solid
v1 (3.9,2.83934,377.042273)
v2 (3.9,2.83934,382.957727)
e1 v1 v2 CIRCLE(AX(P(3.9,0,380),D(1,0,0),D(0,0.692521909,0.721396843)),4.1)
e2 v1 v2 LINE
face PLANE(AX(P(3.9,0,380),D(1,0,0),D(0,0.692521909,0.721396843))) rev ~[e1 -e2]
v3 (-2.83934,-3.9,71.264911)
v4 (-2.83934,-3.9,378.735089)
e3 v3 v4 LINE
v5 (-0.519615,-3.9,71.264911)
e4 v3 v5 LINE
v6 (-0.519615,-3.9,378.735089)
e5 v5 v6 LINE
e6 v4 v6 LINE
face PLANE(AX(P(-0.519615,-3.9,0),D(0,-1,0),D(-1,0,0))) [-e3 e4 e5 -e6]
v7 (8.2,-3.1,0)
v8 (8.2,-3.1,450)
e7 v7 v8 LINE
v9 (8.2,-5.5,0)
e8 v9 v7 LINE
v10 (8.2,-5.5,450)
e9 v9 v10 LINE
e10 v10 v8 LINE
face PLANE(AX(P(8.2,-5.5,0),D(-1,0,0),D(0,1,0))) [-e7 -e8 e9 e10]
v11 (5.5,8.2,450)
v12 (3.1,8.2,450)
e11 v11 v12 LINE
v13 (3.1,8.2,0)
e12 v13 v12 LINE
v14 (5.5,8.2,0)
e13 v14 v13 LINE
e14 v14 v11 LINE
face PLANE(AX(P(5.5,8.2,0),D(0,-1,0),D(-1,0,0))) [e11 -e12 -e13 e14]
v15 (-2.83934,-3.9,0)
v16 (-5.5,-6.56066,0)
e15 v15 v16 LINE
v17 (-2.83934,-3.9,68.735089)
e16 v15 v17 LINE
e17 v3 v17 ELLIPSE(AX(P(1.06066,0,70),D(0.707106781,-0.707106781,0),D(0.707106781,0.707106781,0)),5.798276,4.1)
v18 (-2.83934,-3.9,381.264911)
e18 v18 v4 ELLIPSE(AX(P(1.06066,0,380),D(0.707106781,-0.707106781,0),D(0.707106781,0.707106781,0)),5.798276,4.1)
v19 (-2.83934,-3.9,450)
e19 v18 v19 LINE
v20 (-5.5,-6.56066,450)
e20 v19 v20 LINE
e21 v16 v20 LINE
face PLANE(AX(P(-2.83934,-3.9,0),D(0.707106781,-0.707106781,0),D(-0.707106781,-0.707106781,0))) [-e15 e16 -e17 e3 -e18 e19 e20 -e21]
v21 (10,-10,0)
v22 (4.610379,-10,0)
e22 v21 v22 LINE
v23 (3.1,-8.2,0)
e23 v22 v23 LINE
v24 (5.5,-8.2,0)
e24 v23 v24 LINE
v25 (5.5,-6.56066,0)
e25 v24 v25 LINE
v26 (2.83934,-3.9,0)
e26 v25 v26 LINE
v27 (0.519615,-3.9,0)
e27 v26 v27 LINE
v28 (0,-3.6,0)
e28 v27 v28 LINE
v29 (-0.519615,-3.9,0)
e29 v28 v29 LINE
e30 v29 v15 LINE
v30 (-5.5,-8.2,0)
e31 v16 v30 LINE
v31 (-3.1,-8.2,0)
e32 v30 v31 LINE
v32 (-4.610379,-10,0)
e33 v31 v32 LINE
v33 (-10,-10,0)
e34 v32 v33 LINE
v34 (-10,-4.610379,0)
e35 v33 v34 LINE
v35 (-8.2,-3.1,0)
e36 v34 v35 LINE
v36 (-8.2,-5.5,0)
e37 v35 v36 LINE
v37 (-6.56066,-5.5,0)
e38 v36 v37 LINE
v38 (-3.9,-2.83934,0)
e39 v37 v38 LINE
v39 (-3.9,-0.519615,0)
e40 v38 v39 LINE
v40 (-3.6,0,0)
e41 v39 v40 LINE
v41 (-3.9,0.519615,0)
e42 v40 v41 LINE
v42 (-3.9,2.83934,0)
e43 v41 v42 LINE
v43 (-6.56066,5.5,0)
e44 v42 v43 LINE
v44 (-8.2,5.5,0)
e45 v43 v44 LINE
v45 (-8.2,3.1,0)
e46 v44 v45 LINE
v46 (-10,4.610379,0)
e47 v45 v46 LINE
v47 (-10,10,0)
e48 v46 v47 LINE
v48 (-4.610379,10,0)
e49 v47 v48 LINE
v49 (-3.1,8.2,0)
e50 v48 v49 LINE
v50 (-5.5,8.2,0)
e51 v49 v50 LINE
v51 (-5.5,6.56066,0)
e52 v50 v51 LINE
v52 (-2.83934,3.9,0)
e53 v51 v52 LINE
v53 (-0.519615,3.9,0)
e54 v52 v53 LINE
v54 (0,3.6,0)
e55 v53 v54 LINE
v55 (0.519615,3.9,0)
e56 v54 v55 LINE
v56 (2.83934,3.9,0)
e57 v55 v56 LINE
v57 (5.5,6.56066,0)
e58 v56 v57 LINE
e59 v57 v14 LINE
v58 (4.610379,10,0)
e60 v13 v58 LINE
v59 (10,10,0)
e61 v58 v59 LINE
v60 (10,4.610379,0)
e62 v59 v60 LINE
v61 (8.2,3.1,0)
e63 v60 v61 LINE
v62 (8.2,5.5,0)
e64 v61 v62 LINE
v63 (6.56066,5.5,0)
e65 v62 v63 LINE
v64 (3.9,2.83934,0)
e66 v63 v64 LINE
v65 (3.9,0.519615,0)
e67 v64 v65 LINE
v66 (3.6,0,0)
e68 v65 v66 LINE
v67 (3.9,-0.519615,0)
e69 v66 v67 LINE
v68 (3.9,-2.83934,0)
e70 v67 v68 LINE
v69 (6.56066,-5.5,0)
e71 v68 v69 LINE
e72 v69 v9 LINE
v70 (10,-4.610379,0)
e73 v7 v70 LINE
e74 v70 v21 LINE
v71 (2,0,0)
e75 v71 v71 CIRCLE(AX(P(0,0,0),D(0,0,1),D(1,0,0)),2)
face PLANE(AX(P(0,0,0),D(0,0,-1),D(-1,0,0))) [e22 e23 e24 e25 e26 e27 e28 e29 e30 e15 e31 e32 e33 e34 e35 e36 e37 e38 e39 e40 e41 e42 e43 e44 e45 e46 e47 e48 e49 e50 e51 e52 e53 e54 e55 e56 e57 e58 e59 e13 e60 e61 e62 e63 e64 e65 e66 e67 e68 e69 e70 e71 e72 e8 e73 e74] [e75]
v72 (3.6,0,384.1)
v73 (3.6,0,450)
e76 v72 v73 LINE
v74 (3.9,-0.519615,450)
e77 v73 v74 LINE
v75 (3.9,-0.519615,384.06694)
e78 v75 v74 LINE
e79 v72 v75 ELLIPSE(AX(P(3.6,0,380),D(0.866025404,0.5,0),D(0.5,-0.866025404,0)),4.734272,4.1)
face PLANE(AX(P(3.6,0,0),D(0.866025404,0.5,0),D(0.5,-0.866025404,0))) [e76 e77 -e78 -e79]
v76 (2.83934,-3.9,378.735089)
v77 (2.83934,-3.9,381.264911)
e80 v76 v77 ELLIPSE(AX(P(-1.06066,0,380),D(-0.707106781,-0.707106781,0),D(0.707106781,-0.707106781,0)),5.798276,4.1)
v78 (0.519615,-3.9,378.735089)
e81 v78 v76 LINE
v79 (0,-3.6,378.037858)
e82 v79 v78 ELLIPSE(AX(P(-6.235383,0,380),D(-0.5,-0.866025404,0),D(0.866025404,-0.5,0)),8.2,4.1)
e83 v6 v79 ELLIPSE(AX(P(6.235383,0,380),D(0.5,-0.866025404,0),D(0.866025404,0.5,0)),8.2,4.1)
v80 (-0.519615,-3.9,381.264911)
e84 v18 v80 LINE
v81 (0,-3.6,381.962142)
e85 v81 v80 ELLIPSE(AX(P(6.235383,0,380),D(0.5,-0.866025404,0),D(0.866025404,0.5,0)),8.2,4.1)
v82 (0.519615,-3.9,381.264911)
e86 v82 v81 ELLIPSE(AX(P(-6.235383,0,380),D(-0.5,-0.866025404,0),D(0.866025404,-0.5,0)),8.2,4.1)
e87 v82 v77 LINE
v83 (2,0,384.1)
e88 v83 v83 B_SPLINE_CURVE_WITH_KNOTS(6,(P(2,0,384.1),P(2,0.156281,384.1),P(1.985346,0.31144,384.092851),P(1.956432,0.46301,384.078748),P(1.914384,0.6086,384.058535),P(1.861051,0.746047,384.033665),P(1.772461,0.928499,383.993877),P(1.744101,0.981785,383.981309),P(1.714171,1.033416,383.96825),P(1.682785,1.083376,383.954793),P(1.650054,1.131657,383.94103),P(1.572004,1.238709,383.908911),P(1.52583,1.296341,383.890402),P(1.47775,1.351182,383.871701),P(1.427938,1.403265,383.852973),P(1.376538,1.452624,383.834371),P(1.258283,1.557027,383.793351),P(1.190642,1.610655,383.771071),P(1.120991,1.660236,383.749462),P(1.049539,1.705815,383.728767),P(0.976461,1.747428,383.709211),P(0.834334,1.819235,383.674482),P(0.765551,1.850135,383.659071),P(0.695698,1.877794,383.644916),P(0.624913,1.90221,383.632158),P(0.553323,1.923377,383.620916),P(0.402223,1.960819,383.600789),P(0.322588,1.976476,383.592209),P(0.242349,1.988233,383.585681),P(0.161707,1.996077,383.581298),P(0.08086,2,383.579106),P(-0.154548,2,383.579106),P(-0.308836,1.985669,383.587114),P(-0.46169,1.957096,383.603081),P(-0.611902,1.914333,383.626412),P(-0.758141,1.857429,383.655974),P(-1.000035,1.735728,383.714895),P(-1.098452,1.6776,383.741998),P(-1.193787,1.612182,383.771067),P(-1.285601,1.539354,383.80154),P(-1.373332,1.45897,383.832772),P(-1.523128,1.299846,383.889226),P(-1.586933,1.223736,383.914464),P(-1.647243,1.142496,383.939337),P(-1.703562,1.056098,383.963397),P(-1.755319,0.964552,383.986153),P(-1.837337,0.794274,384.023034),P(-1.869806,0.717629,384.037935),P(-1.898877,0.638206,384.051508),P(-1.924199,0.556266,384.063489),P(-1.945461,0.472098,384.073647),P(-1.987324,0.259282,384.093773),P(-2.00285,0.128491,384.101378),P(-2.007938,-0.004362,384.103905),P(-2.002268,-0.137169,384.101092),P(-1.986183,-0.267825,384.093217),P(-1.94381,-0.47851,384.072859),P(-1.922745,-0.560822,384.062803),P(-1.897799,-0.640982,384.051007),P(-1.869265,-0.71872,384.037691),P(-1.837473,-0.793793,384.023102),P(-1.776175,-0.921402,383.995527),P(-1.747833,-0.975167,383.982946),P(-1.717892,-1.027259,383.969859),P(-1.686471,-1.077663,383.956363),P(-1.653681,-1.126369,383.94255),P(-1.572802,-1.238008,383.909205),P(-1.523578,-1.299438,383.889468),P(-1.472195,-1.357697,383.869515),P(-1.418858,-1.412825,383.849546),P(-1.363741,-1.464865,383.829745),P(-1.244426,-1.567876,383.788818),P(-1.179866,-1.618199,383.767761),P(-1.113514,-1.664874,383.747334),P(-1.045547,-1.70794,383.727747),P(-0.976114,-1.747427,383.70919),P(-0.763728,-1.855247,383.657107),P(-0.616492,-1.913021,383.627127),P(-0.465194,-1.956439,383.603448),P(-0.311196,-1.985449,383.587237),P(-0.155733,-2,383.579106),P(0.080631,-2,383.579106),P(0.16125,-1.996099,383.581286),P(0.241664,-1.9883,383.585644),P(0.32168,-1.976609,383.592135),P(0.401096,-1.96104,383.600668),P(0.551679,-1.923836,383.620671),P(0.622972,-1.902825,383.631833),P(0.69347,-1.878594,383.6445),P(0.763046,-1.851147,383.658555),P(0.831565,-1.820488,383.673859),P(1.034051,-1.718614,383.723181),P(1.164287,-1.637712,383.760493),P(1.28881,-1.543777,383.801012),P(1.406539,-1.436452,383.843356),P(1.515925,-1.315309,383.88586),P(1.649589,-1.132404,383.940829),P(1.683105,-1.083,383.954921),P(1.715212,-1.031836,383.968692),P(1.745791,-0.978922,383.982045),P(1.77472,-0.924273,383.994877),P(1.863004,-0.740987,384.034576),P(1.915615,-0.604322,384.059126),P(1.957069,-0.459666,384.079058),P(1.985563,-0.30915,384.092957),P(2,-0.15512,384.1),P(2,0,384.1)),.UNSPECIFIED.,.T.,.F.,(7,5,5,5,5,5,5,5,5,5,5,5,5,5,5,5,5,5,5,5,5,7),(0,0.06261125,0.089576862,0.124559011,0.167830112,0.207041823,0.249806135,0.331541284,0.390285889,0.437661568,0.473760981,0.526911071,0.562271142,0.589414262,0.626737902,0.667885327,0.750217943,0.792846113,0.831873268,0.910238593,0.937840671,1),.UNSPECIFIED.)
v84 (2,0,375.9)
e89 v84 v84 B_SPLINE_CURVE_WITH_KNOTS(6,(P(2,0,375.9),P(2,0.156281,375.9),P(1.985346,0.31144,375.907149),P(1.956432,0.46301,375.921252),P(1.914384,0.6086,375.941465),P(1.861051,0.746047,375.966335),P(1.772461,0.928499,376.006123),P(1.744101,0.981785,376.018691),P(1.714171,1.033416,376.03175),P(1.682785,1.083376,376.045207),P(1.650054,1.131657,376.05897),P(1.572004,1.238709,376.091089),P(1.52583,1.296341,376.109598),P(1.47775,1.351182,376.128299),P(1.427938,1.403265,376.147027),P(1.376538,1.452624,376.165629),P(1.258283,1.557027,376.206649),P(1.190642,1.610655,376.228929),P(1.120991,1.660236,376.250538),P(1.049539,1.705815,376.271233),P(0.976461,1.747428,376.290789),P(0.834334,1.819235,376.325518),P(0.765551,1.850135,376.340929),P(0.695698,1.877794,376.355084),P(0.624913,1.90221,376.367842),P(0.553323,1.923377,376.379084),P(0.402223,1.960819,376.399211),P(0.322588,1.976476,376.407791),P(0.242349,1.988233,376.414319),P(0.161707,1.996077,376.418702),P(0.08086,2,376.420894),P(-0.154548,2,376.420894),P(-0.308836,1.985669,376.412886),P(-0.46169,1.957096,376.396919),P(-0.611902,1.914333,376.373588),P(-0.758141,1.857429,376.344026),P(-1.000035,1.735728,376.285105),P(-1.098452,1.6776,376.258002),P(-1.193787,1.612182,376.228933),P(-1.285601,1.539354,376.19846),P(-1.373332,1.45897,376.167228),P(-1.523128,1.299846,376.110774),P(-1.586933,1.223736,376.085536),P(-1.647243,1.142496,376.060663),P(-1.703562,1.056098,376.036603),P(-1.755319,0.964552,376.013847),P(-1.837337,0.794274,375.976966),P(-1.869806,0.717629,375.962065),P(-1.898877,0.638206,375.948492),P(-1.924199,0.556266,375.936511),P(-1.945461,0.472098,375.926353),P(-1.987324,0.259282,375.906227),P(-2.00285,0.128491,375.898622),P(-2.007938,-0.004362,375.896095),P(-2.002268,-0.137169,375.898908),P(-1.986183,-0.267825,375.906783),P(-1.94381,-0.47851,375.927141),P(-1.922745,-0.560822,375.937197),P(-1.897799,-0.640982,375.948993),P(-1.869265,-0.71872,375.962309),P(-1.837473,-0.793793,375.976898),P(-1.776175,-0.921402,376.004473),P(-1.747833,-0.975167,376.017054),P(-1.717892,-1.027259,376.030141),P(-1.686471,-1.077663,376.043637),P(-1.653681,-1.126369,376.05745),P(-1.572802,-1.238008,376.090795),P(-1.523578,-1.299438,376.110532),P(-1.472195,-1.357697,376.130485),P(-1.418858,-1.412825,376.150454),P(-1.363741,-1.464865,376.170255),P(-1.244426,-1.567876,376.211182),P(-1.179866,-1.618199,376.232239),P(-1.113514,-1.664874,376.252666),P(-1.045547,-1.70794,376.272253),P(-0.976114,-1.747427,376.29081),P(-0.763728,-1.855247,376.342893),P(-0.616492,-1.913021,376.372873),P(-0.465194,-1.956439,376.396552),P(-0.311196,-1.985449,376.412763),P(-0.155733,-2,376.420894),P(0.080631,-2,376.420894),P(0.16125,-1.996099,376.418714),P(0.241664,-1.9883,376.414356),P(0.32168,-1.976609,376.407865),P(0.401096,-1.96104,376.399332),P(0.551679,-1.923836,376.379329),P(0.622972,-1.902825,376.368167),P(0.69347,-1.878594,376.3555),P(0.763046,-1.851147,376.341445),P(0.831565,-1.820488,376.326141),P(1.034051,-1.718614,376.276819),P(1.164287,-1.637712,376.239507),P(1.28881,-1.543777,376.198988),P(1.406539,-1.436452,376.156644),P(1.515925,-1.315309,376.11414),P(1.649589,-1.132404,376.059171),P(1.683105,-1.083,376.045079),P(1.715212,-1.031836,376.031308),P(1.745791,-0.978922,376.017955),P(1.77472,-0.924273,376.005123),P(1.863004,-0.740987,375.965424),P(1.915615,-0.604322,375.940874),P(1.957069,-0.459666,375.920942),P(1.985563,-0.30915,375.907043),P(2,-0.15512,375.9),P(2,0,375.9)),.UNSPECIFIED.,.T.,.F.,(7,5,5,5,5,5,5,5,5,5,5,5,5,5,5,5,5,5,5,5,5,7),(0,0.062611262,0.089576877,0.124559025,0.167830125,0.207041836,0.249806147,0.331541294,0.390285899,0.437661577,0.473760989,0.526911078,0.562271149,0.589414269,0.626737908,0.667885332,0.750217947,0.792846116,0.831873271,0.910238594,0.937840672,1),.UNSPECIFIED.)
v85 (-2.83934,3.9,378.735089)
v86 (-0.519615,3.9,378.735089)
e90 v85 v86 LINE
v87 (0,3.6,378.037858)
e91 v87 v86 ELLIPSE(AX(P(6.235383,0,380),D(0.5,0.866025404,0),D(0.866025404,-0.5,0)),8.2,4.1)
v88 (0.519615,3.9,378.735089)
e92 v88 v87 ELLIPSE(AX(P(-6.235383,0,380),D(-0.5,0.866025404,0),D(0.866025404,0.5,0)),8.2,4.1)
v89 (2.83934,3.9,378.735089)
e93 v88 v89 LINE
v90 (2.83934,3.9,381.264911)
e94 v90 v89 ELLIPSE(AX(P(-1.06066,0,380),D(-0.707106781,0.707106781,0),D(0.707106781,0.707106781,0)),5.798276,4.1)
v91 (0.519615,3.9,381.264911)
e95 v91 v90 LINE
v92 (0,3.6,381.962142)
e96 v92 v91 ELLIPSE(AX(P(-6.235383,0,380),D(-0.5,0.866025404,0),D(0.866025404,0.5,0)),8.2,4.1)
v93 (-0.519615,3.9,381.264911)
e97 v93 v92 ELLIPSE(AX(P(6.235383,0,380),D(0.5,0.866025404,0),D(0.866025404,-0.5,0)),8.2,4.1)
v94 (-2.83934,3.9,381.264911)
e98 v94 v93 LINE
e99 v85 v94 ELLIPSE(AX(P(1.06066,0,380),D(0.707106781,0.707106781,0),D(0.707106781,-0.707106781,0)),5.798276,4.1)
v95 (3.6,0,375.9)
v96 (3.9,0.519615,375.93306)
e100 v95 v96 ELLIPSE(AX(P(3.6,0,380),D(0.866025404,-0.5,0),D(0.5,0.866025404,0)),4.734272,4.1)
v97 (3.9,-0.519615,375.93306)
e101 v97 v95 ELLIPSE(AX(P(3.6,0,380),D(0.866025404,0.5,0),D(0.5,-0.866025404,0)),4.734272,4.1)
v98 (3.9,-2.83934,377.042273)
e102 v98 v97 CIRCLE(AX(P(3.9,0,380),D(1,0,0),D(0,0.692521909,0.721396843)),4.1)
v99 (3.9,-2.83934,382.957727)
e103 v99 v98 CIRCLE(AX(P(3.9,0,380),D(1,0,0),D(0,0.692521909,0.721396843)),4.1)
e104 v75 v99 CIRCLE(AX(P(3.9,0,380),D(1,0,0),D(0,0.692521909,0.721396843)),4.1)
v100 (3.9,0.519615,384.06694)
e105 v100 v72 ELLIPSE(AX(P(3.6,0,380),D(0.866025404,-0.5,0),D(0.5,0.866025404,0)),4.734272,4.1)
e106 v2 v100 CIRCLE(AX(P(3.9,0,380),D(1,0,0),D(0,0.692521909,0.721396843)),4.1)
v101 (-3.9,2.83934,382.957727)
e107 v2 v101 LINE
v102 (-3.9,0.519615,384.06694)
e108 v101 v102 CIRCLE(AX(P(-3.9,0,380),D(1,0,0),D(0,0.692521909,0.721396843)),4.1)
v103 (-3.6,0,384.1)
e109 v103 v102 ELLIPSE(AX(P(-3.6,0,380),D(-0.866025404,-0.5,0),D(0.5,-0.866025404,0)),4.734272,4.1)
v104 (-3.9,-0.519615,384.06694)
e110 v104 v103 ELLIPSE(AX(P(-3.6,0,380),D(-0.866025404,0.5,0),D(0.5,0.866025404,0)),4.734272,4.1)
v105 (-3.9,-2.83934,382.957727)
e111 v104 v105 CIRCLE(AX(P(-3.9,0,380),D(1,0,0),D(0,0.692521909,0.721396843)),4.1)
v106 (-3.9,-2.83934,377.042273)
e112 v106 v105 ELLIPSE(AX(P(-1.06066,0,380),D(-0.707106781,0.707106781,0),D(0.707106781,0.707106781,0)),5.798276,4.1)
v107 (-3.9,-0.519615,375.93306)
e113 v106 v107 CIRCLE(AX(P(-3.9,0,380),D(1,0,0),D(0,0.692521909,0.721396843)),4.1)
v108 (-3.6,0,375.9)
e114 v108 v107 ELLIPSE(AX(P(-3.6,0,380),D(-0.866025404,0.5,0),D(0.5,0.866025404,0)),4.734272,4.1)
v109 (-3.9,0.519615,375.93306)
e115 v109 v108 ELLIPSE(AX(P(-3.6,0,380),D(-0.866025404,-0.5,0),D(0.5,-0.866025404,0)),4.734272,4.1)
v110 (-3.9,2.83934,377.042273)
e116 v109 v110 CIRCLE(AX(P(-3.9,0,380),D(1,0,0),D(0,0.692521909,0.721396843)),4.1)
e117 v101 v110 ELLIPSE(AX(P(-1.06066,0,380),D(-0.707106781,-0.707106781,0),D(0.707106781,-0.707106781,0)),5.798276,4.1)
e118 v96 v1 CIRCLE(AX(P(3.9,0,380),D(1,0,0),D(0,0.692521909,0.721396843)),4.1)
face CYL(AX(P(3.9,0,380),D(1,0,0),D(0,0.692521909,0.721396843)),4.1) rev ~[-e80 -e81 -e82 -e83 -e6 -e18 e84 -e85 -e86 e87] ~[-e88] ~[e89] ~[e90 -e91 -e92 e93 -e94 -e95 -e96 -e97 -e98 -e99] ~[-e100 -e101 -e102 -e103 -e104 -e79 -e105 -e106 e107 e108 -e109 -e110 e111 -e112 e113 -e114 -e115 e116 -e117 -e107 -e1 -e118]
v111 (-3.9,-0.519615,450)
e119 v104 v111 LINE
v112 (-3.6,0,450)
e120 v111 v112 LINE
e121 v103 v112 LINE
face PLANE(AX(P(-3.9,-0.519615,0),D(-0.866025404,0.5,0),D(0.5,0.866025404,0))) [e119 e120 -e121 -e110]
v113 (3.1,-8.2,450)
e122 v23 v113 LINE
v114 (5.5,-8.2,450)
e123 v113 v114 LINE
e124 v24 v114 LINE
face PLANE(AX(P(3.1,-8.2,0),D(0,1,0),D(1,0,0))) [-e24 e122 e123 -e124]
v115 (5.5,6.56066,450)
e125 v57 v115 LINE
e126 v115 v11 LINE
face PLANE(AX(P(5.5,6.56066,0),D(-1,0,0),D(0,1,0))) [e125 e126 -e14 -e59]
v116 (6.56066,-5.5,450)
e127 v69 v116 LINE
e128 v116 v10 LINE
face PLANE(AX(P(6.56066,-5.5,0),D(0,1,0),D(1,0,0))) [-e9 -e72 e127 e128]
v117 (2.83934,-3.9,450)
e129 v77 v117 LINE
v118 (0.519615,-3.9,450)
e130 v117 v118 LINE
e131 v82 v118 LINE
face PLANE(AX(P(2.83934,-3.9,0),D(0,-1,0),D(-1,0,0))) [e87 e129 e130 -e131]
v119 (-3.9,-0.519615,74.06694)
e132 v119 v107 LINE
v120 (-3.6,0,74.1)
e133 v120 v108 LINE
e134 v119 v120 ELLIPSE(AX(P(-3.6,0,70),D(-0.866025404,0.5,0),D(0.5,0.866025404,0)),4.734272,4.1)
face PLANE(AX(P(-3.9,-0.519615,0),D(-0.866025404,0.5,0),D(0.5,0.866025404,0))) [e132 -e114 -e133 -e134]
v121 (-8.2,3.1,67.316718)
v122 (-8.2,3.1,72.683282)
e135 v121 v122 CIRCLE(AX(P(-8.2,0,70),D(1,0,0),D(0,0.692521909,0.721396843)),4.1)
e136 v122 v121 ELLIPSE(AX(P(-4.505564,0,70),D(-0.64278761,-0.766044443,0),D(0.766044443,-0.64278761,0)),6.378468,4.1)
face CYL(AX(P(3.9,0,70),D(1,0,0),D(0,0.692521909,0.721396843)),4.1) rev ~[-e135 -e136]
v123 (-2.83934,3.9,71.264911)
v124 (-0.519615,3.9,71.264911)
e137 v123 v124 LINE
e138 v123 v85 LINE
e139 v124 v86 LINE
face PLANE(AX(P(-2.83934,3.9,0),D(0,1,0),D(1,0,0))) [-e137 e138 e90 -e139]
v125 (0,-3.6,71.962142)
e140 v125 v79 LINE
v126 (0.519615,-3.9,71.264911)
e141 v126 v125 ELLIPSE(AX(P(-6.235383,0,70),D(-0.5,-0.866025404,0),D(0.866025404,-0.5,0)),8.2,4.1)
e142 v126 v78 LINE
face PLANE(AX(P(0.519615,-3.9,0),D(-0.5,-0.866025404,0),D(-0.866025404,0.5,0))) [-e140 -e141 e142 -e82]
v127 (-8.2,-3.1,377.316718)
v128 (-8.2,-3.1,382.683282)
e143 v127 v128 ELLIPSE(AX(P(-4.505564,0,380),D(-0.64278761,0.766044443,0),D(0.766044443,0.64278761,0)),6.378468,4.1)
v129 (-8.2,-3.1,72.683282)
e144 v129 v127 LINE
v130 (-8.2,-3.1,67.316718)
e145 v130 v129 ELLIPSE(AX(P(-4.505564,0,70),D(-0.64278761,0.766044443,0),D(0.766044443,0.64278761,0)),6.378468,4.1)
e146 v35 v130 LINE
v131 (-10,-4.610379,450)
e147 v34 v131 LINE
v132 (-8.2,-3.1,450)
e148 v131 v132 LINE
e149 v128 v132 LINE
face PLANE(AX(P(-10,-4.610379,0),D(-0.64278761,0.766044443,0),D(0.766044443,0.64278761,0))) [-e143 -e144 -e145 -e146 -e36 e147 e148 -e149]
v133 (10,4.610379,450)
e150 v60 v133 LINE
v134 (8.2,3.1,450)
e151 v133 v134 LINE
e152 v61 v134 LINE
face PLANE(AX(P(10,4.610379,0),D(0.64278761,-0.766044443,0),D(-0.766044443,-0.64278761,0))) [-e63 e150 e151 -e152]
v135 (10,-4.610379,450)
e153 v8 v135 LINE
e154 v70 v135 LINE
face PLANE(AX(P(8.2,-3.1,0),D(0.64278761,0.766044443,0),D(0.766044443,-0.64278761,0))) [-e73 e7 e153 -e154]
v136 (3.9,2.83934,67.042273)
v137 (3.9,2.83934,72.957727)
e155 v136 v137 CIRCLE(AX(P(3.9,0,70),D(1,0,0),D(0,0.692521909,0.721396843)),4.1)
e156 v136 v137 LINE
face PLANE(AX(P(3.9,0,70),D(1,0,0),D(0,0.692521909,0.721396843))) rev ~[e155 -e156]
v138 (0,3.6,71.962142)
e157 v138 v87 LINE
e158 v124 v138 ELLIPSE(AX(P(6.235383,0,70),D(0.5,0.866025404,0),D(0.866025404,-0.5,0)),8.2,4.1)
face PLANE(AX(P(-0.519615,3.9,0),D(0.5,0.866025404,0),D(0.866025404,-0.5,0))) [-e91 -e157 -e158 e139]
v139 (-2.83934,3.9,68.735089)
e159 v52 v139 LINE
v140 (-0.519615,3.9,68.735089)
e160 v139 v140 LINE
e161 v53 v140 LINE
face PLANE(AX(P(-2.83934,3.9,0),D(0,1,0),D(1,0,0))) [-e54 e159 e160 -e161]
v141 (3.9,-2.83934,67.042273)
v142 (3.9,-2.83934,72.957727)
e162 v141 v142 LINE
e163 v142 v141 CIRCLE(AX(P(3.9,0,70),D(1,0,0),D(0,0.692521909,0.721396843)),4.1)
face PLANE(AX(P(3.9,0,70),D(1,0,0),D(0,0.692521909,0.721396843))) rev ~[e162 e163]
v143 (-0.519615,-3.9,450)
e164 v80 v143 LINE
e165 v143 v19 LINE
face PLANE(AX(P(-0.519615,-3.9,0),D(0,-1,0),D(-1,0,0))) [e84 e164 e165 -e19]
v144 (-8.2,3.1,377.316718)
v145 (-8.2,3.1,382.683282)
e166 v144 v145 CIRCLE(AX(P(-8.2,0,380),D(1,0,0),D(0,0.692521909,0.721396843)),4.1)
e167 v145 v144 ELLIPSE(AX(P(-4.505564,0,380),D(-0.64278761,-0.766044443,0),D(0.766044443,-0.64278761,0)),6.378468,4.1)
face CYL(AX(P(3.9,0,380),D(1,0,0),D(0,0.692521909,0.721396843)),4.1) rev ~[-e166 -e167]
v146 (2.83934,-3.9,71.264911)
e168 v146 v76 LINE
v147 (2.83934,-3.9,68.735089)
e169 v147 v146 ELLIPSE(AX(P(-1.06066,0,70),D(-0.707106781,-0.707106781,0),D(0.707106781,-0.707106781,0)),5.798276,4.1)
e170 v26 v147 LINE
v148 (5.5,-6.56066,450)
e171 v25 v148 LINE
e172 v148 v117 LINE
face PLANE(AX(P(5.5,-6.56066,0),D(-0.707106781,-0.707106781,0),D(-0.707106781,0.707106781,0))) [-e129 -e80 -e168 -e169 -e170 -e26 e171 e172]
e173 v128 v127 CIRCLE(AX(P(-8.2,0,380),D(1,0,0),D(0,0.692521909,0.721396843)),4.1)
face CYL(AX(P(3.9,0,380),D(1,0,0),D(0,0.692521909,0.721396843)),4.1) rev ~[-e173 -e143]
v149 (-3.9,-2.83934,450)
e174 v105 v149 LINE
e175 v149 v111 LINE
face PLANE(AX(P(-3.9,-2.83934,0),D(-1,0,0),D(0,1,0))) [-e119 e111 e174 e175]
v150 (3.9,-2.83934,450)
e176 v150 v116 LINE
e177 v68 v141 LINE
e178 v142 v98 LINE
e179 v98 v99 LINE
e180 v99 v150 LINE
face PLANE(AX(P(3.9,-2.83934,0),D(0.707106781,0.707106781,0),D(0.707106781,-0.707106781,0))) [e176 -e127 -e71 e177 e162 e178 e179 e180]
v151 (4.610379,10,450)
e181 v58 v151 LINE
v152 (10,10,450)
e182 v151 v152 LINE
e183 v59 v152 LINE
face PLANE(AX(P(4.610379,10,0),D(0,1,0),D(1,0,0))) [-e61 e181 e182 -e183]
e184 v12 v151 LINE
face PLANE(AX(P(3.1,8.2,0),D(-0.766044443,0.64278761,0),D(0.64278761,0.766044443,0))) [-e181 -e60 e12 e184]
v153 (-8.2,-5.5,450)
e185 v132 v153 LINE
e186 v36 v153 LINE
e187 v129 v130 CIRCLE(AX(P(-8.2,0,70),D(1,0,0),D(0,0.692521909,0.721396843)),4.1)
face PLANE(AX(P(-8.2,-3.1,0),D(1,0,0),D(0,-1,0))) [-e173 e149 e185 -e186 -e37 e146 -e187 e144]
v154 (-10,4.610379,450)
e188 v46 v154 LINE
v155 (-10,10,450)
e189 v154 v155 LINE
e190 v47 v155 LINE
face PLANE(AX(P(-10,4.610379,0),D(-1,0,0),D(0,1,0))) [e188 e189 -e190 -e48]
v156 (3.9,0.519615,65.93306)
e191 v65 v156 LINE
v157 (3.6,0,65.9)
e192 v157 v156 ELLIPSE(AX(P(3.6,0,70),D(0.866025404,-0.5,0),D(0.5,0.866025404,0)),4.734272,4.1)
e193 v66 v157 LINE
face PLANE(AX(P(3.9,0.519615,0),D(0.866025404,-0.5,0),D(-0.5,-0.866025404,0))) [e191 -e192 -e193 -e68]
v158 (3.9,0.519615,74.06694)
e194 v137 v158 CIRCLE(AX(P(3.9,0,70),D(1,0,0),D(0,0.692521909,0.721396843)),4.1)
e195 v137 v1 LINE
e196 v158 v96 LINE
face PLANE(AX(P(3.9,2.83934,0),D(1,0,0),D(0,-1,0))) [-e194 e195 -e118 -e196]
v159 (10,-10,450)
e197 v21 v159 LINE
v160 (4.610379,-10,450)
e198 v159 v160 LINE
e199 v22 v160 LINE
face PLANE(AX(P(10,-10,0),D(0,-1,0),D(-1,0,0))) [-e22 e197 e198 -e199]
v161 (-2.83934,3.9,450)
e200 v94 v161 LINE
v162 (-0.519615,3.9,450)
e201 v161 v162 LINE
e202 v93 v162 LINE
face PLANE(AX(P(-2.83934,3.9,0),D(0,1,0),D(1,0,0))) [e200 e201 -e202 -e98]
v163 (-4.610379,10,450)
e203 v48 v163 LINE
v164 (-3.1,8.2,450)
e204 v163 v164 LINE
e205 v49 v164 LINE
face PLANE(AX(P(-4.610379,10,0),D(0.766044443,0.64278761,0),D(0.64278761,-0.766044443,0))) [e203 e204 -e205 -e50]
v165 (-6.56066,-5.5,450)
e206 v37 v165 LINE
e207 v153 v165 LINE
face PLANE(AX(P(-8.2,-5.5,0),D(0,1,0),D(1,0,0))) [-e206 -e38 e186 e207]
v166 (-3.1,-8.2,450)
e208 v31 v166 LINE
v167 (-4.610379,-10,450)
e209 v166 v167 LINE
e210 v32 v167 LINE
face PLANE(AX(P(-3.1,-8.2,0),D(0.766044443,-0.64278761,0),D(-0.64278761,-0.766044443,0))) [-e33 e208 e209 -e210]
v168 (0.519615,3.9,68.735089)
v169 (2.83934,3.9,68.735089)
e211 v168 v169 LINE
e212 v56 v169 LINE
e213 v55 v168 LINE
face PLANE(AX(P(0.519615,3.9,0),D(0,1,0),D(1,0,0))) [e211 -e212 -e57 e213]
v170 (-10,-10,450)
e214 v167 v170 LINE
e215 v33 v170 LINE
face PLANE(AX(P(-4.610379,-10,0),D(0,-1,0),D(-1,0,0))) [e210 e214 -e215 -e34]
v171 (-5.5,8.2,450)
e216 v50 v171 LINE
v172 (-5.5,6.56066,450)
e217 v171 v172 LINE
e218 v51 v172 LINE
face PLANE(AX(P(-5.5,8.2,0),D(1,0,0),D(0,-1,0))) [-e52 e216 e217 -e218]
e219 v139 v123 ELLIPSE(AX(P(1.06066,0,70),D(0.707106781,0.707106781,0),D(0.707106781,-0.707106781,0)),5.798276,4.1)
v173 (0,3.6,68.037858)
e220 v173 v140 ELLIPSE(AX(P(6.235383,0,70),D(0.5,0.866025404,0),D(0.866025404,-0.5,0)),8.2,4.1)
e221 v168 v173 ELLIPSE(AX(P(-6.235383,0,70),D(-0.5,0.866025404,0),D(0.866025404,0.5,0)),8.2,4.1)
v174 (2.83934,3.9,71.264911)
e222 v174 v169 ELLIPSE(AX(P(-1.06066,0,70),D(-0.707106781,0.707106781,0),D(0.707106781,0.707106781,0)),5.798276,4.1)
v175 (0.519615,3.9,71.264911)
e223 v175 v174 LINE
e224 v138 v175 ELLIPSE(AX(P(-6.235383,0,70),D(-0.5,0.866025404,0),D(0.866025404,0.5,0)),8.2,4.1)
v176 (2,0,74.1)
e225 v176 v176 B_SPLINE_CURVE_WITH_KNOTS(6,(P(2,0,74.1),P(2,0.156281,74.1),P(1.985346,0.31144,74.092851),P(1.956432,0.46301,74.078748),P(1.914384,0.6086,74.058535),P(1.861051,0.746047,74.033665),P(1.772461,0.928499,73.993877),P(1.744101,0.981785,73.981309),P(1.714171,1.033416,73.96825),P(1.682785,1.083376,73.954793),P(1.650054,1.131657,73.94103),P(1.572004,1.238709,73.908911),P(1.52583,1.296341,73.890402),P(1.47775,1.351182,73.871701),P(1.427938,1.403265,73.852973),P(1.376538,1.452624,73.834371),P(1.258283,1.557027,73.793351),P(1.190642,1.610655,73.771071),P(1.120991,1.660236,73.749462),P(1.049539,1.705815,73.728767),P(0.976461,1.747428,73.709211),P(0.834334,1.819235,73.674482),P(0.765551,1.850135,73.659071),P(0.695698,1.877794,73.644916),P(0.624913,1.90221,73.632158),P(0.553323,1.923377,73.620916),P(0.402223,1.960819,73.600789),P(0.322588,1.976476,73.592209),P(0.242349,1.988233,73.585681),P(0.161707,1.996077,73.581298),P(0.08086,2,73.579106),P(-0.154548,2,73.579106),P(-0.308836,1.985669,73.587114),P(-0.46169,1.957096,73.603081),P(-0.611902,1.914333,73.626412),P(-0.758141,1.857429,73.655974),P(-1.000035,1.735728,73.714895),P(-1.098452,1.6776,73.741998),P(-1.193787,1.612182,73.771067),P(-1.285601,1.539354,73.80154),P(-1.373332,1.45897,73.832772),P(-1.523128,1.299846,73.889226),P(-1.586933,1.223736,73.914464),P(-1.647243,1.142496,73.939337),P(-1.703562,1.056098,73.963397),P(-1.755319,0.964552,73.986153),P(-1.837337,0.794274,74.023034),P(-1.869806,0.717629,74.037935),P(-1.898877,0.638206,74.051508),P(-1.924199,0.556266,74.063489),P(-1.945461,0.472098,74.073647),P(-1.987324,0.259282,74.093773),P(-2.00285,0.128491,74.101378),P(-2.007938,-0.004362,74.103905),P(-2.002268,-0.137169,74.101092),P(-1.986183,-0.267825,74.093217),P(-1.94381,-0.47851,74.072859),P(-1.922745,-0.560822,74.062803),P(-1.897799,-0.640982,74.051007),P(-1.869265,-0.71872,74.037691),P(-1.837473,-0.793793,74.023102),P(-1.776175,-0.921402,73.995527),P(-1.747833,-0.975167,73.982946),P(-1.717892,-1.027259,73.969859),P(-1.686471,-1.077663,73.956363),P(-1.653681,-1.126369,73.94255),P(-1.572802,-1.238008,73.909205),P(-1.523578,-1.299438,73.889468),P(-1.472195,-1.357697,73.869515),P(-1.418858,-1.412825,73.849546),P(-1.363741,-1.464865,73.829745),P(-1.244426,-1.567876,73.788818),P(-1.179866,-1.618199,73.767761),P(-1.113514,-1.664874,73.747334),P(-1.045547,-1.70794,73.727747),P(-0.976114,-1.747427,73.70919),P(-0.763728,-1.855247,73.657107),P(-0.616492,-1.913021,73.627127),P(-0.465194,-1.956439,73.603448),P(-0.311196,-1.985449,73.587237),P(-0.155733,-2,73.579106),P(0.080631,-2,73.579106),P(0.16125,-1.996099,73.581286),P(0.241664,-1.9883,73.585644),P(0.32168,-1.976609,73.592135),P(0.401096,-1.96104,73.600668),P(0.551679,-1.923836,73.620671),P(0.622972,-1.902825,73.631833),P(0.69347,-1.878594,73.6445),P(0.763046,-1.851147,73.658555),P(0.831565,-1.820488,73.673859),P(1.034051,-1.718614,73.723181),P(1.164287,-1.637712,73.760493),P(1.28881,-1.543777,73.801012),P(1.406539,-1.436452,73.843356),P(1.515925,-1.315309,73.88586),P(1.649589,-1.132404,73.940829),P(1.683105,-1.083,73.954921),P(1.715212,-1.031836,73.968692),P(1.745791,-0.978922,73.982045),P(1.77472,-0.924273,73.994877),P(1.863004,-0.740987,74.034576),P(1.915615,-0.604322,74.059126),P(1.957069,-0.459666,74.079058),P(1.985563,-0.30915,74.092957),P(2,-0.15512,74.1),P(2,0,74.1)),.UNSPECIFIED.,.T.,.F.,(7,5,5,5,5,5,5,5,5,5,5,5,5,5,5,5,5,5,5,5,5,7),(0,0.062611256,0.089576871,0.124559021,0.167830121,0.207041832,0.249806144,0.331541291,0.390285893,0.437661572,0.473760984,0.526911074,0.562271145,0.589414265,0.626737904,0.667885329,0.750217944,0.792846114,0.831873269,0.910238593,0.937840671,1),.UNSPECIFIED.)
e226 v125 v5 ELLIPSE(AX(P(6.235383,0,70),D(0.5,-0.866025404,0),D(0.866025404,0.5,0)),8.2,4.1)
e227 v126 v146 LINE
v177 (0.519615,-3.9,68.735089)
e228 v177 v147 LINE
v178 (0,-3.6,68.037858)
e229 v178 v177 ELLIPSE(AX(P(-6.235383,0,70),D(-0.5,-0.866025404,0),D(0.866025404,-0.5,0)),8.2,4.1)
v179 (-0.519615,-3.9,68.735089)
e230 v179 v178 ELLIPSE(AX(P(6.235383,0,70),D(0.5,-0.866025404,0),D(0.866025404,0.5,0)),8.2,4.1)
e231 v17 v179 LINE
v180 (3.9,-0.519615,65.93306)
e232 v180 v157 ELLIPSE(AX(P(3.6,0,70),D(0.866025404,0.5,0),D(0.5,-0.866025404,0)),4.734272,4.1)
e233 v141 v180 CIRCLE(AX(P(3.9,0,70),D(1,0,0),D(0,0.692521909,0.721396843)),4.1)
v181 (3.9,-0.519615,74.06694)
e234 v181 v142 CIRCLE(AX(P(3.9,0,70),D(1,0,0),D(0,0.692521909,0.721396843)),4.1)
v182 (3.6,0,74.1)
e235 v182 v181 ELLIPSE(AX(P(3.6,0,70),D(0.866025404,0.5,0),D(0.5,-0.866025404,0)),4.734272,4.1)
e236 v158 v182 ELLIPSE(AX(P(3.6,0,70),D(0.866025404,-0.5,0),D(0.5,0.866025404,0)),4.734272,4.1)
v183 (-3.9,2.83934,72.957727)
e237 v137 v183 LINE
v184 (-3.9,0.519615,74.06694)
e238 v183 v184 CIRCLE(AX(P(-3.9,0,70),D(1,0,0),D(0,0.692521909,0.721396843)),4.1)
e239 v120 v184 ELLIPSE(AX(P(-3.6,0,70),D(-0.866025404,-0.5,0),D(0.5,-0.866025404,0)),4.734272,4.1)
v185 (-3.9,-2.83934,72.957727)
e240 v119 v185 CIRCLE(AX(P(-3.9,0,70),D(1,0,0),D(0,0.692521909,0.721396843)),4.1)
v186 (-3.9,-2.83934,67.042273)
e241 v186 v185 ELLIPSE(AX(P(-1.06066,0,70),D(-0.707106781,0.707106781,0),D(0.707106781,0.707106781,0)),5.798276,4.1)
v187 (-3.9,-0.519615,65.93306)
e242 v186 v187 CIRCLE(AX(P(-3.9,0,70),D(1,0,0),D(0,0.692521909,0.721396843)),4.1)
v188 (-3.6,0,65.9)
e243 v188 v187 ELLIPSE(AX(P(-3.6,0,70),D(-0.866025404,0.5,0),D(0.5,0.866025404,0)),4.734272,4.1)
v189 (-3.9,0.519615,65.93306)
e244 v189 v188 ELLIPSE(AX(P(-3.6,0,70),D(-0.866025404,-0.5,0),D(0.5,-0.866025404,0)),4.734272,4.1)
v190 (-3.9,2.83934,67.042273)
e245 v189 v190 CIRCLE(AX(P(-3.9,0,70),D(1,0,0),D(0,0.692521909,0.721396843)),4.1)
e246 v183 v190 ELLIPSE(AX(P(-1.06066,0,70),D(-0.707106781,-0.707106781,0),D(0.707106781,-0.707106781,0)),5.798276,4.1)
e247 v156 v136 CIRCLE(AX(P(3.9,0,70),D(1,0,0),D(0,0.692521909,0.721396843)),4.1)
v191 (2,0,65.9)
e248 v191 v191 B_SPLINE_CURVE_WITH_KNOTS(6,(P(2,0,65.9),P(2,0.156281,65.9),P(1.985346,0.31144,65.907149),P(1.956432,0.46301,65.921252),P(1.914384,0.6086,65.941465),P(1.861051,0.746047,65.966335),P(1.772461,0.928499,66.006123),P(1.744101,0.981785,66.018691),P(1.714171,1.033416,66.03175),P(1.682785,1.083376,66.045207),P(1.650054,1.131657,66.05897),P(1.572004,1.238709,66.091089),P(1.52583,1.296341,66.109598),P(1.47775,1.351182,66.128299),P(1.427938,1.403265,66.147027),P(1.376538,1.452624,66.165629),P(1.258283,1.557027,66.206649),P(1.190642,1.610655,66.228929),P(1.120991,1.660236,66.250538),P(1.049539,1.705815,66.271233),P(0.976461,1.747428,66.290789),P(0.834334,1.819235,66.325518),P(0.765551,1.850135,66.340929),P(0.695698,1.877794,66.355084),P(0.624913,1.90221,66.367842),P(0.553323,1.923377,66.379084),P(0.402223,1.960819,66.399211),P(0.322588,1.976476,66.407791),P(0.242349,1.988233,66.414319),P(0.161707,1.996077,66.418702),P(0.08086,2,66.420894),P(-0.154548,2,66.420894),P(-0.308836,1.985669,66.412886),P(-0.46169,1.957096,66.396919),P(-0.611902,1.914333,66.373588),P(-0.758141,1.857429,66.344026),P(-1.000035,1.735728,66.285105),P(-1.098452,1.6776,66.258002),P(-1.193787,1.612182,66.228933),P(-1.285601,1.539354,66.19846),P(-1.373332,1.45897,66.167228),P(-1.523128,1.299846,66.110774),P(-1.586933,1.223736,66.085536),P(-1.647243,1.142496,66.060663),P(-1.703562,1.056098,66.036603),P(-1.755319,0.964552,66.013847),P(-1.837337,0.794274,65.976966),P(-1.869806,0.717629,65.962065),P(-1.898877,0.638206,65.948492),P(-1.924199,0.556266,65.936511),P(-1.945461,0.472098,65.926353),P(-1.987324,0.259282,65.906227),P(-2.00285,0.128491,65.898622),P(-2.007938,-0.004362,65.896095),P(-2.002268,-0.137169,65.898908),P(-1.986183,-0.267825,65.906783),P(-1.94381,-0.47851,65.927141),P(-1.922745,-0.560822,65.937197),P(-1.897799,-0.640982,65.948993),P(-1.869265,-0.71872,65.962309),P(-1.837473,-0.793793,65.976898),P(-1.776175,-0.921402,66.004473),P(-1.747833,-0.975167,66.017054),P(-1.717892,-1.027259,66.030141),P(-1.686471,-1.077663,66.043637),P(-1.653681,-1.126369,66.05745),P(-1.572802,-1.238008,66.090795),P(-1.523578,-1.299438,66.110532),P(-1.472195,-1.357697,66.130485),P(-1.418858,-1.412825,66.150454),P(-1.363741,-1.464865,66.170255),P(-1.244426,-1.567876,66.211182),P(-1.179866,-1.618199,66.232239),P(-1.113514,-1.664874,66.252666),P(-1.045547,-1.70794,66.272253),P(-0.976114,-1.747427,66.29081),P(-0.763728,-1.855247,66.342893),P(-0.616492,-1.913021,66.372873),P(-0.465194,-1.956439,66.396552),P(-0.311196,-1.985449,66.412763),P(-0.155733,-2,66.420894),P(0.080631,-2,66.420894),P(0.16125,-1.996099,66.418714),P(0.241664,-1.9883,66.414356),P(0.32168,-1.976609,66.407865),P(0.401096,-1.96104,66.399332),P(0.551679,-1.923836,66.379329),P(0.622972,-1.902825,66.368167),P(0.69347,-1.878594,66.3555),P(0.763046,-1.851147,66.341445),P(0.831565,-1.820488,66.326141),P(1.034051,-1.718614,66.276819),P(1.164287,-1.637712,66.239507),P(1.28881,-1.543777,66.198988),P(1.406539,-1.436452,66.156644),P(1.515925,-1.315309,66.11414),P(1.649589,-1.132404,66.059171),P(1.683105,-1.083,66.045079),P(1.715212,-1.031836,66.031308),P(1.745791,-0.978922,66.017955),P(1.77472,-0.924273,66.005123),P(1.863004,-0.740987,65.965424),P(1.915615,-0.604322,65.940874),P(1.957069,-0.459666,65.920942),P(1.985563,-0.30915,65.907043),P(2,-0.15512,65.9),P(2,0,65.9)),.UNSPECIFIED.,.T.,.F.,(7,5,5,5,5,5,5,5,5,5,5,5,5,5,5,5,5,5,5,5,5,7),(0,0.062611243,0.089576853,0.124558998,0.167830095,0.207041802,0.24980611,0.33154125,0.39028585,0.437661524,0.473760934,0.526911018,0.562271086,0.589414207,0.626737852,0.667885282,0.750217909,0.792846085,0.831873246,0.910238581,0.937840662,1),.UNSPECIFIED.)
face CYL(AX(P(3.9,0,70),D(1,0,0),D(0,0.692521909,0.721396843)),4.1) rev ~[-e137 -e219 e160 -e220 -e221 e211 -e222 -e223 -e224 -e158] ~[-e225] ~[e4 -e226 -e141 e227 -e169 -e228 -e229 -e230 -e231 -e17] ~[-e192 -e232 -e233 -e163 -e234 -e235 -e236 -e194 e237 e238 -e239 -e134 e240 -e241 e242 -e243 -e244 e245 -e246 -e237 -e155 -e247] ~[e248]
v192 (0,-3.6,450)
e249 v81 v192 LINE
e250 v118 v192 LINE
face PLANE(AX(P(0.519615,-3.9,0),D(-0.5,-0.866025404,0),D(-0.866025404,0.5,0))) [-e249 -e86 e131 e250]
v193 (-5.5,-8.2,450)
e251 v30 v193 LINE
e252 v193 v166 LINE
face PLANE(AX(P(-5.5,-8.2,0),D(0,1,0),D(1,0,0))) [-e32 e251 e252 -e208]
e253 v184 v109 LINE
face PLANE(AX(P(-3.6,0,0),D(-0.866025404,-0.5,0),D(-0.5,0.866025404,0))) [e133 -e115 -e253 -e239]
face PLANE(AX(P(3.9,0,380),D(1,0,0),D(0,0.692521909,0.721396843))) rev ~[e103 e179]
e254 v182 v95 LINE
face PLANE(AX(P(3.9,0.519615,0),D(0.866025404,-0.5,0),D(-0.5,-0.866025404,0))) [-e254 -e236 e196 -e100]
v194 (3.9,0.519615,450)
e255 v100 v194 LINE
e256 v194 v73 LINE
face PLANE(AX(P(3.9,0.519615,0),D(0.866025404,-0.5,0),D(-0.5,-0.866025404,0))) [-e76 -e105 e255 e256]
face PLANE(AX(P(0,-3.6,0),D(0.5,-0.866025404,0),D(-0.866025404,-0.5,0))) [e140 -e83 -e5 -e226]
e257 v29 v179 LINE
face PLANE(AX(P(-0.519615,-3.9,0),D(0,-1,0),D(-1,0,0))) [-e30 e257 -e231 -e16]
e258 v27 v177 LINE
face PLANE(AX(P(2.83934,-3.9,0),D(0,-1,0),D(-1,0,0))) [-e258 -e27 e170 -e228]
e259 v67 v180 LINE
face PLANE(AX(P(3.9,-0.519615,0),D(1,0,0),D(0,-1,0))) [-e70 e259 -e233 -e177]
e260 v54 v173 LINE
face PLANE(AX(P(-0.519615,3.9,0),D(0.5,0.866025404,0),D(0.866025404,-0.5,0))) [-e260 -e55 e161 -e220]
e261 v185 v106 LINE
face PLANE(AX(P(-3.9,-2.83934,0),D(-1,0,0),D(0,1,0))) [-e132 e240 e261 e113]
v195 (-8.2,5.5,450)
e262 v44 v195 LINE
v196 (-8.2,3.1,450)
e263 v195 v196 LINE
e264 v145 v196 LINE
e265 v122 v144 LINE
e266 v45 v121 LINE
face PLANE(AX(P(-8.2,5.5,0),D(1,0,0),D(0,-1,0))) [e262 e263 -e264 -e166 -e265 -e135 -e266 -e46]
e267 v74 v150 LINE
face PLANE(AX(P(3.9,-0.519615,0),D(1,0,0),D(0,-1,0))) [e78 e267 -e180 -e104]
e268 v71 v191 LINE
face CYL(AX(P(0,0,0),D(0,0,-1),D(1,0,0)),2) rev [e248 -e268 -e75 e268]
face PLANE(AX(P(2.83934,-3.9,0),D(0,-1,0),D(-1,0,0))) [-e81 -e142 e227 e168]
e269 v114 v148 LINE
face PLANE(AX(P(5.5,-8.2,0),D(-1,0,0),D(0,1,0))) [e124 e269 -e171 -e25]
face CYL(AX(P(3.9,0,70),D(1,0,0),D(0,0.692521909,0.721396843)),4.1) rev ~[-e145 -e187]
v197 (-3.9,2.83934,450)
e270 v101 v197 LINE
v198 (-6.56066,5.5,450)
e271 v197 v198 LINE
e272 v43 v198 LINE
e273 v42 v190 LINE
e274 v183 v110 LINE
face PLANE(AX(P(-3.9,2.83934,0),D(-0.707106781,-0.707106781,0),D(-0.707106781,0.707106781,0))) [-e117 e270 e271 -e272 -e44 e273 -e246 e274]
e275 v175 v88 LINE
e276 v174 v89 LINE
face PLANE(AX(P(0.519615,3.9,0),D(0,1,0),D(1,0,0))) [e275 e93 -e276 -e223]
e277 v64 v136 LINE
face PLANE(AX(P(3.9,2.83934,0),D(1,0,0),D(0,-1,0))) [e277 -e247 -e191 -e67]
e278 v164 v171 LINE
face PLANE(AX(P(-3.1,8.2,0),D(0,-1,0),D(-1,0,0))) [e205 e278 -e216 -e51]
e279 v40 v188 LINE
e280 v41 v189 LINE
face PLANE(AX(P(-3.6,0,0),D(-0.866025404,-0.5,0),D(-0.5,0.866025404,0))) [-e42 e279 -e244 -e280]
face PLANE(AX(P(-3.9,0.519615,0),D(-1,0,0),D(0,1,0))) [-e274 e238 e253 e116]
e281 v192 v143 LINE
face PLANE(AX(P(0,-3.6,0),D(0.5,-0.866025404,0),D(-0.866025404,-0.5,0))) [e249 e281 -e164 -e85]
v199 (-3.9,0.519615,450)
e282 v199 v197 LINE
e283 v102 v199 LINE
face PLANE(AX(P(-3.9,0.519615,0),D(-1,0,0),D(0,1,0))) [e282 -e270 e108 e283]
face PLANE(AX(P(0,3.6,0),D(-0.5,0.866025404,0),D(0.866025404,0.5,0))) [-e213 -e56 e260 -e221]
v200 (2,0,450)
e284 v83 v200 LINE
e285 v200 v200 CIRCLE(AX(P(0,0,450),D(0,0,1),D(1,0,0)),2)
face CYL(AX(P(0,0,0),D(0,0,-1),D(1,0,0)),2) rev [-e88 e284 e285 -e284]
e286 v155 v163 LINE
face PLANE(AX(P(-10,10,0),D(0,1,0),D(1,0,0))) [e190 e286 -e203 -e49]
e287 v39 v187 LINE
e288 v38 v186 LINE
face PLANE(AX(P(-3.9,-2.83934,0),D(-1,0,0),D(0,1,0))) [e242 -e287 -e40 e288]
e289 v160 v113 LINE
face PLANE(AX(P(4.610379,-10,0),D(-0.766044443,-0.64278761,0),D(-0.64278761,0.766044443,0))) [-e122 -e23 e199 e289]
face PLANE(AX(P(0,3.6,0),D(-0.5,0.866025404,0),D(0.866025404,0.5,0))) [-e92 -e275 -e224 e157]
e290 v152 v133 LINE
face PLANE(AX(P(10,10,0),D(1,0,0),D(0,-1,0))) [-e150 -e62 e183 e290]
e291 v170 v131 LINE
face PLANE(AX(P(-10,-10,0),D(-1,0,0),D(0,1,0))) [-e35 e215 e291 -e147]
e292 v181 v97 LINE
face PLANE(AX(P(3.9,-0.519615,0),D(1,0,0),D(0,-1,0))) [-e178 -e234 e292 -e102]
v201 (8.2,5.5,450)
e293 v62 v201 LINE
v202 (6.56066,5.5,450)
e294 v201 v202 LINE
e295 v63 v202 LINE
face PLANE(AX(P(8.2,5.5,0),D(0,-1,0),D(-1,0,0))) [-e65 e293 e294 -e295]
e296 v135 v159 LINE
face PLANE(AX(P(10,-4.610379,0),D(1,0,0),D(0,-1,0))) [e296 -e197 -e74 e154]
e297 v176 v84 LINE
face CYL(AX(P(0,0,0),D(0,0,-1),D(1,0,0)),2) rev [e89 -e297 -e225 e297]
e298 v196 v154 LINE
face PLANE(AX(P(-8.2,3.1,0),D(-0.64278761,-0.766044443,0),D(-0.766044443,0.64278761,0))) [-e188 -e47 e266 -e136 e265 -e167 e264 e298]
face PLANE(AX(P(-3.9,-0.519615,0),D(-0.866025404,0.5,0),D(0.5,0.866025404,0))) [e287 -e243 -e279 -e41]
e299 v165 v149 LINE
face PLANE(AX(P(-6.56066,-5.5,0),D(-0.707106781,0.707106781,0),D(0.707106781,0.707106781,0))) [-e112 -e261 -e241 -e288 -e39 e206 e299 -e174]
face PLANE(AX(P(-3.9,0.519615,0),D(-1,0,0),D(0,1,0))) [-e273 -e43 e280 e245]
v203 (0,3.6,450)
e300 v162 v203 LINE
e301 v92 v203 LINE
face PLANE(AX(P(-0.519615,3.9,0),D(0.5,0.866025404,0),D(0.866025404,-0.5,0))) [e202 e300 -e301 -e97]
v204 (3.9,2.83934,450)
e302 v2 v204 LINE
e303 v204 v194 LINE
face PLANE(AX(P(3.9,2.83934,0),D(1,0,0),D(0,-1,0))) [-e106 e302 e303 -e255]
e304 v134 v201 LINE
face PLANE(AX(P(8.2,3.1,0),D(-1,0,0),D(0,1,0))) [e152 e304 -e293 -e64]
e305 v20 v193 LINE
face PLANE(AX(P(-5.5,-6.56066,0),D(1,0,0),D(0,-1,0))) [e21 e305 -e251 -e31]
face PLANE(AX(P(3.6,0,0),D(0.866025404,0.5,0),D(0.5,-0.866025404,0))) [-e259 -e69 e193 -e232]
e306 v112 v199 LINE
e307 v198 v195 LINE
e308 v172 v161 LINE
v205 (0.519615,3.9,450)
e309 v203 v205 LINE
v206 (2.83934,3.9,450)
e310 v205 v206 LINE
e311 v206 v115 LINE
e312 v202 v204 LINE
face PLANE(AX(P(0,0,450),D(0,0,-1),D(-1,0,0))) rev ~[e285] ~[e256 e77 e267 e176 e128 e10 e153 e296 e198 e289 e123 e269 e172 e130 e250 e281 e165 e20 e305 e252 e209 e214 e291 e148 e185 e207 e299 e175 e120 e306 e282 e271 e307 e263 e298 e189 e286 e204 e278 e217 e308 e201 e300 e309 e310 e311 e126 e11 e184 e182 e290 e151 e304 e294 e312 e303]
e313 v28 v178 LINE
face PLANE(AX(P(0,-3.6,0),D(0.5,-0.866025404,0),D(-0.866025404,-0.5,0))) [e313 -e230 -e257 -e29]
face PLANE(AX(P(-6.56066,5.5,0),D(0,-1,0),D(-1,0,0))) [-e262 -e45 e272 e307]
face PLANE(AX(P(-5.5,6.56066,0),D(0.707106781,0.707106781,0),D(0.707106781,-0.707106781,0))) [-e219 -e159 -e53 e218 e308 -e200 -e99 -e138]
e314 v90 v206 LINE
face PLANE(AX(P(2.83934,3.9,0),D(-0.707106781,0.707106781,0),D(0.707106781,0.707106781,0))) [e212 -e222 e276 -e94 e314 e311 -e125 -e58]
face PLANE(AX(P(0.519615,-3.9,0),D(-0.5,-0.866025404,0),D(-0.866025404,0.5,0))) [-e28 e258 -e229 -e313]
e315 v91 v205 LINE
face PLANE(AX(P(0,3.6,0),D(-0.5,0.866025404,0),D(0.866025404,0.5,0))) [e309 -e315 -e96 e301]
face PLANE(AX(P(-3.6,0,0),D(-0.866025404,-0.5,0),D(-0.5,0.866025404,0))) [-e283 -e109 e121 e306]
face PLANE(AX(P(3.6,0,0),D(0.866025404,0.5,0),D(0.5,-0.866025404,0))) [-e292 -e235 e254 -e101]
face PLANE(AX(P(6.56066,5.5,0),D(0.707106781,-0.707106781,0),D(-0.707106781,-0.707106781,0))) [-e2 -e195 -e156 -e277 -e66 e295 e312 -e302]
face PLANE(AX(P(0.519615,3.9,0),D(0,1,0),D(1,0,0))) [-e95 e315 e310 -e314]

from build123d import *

# Parameters (mm, degrees)
SKETCH1_R           = 2
BOSS_EXTRUDE1_DEPTH = 450
SKETCH2_R           = 4.1
CUT_EXTRUDE1_DEPTH  = 451.325671043


with BuildPart() as part:
    # Sketch1 → Boss-Extrude1 (new body)
    with BuildSketch(Plane.XY):
        Polygon((10, 10), (10, 4.610379336), (8.2, 3.1), (8.2, 5.5), (6.560660172, 5.5), (3.9, 2.839339828), (3.9, 0.519615242), (3.6, 0), (3.9, -0.519615242), (3.9, -2.839339828), (6.560660172, -5.5), (8.2, -5.5), (8.2, -3.1), (10, -4.610379336), (10, -10), (4.610379336, -10), (3.1, -8.2), (5.5, -8.2), (5.5, -6.560660172), (2.839339828, -3.9), (0.519615242, -3.9), (0, -3.6), (-0.519615242, -3.9), (-2.839339828, -3.9), (-5.5, -6.560660172), (-5.5, -8.2), (-3.1, -8.2), (-4.610379336, -10), (-10, -10), (-10, -4.610379336), (-8.2, -3.1), (-8.2, -5.5), (-6.560660172, -5.5), (-3.9, -2.839339828), (-3.9, -0.519615242), (-3.6, 0), (-3.9, 0.519615242), (-3.9, 2.839339828), (-6.560660172, 5.5), (-8.2, 5.5), (-8.2, 3.1), (-10, 4.610379336), (-10, 10), (-4.610379336, 10), (-3.1, 8.2), (-5.5, 8.2), (-5.5, 6.560660172), (-2.839339828, 3.9), (-0.519615242, 3.9), (0, 3.6), (0.519615242, 3.9), (2.839339828, 3.9), (5.5, 6.560660172), (5.5, 8.2), (3.1, 8.2), (4.610379336, 10), align=None)
        Circle(SKETCH1_R, mode=Mode.SUBTRACT)
    extrude(amount=BOSS_EXTRUDE1_DEPTH)

    # Sketch2 → Cut-Extrude1 (cut, through all)
    with BuildSketch(Plane(origin=(3.9, 0, 0), x_dir=(0, 0, -1), z_dir=(1, 0, 0))):
        with Locations(Location((-380, 0, 0), (0, 0, 136.169927123))):
            Circle(SKETCH2_R)
        with Locations(Location((-70, 0, 0), (0, 0, 136.169927123))):
            Circle(SKETCH2_R)
    extrude(amount=-CUT_EXTRUDE1_DEPTH, mode=Mode.SUBTRACT)


solid = part.part
